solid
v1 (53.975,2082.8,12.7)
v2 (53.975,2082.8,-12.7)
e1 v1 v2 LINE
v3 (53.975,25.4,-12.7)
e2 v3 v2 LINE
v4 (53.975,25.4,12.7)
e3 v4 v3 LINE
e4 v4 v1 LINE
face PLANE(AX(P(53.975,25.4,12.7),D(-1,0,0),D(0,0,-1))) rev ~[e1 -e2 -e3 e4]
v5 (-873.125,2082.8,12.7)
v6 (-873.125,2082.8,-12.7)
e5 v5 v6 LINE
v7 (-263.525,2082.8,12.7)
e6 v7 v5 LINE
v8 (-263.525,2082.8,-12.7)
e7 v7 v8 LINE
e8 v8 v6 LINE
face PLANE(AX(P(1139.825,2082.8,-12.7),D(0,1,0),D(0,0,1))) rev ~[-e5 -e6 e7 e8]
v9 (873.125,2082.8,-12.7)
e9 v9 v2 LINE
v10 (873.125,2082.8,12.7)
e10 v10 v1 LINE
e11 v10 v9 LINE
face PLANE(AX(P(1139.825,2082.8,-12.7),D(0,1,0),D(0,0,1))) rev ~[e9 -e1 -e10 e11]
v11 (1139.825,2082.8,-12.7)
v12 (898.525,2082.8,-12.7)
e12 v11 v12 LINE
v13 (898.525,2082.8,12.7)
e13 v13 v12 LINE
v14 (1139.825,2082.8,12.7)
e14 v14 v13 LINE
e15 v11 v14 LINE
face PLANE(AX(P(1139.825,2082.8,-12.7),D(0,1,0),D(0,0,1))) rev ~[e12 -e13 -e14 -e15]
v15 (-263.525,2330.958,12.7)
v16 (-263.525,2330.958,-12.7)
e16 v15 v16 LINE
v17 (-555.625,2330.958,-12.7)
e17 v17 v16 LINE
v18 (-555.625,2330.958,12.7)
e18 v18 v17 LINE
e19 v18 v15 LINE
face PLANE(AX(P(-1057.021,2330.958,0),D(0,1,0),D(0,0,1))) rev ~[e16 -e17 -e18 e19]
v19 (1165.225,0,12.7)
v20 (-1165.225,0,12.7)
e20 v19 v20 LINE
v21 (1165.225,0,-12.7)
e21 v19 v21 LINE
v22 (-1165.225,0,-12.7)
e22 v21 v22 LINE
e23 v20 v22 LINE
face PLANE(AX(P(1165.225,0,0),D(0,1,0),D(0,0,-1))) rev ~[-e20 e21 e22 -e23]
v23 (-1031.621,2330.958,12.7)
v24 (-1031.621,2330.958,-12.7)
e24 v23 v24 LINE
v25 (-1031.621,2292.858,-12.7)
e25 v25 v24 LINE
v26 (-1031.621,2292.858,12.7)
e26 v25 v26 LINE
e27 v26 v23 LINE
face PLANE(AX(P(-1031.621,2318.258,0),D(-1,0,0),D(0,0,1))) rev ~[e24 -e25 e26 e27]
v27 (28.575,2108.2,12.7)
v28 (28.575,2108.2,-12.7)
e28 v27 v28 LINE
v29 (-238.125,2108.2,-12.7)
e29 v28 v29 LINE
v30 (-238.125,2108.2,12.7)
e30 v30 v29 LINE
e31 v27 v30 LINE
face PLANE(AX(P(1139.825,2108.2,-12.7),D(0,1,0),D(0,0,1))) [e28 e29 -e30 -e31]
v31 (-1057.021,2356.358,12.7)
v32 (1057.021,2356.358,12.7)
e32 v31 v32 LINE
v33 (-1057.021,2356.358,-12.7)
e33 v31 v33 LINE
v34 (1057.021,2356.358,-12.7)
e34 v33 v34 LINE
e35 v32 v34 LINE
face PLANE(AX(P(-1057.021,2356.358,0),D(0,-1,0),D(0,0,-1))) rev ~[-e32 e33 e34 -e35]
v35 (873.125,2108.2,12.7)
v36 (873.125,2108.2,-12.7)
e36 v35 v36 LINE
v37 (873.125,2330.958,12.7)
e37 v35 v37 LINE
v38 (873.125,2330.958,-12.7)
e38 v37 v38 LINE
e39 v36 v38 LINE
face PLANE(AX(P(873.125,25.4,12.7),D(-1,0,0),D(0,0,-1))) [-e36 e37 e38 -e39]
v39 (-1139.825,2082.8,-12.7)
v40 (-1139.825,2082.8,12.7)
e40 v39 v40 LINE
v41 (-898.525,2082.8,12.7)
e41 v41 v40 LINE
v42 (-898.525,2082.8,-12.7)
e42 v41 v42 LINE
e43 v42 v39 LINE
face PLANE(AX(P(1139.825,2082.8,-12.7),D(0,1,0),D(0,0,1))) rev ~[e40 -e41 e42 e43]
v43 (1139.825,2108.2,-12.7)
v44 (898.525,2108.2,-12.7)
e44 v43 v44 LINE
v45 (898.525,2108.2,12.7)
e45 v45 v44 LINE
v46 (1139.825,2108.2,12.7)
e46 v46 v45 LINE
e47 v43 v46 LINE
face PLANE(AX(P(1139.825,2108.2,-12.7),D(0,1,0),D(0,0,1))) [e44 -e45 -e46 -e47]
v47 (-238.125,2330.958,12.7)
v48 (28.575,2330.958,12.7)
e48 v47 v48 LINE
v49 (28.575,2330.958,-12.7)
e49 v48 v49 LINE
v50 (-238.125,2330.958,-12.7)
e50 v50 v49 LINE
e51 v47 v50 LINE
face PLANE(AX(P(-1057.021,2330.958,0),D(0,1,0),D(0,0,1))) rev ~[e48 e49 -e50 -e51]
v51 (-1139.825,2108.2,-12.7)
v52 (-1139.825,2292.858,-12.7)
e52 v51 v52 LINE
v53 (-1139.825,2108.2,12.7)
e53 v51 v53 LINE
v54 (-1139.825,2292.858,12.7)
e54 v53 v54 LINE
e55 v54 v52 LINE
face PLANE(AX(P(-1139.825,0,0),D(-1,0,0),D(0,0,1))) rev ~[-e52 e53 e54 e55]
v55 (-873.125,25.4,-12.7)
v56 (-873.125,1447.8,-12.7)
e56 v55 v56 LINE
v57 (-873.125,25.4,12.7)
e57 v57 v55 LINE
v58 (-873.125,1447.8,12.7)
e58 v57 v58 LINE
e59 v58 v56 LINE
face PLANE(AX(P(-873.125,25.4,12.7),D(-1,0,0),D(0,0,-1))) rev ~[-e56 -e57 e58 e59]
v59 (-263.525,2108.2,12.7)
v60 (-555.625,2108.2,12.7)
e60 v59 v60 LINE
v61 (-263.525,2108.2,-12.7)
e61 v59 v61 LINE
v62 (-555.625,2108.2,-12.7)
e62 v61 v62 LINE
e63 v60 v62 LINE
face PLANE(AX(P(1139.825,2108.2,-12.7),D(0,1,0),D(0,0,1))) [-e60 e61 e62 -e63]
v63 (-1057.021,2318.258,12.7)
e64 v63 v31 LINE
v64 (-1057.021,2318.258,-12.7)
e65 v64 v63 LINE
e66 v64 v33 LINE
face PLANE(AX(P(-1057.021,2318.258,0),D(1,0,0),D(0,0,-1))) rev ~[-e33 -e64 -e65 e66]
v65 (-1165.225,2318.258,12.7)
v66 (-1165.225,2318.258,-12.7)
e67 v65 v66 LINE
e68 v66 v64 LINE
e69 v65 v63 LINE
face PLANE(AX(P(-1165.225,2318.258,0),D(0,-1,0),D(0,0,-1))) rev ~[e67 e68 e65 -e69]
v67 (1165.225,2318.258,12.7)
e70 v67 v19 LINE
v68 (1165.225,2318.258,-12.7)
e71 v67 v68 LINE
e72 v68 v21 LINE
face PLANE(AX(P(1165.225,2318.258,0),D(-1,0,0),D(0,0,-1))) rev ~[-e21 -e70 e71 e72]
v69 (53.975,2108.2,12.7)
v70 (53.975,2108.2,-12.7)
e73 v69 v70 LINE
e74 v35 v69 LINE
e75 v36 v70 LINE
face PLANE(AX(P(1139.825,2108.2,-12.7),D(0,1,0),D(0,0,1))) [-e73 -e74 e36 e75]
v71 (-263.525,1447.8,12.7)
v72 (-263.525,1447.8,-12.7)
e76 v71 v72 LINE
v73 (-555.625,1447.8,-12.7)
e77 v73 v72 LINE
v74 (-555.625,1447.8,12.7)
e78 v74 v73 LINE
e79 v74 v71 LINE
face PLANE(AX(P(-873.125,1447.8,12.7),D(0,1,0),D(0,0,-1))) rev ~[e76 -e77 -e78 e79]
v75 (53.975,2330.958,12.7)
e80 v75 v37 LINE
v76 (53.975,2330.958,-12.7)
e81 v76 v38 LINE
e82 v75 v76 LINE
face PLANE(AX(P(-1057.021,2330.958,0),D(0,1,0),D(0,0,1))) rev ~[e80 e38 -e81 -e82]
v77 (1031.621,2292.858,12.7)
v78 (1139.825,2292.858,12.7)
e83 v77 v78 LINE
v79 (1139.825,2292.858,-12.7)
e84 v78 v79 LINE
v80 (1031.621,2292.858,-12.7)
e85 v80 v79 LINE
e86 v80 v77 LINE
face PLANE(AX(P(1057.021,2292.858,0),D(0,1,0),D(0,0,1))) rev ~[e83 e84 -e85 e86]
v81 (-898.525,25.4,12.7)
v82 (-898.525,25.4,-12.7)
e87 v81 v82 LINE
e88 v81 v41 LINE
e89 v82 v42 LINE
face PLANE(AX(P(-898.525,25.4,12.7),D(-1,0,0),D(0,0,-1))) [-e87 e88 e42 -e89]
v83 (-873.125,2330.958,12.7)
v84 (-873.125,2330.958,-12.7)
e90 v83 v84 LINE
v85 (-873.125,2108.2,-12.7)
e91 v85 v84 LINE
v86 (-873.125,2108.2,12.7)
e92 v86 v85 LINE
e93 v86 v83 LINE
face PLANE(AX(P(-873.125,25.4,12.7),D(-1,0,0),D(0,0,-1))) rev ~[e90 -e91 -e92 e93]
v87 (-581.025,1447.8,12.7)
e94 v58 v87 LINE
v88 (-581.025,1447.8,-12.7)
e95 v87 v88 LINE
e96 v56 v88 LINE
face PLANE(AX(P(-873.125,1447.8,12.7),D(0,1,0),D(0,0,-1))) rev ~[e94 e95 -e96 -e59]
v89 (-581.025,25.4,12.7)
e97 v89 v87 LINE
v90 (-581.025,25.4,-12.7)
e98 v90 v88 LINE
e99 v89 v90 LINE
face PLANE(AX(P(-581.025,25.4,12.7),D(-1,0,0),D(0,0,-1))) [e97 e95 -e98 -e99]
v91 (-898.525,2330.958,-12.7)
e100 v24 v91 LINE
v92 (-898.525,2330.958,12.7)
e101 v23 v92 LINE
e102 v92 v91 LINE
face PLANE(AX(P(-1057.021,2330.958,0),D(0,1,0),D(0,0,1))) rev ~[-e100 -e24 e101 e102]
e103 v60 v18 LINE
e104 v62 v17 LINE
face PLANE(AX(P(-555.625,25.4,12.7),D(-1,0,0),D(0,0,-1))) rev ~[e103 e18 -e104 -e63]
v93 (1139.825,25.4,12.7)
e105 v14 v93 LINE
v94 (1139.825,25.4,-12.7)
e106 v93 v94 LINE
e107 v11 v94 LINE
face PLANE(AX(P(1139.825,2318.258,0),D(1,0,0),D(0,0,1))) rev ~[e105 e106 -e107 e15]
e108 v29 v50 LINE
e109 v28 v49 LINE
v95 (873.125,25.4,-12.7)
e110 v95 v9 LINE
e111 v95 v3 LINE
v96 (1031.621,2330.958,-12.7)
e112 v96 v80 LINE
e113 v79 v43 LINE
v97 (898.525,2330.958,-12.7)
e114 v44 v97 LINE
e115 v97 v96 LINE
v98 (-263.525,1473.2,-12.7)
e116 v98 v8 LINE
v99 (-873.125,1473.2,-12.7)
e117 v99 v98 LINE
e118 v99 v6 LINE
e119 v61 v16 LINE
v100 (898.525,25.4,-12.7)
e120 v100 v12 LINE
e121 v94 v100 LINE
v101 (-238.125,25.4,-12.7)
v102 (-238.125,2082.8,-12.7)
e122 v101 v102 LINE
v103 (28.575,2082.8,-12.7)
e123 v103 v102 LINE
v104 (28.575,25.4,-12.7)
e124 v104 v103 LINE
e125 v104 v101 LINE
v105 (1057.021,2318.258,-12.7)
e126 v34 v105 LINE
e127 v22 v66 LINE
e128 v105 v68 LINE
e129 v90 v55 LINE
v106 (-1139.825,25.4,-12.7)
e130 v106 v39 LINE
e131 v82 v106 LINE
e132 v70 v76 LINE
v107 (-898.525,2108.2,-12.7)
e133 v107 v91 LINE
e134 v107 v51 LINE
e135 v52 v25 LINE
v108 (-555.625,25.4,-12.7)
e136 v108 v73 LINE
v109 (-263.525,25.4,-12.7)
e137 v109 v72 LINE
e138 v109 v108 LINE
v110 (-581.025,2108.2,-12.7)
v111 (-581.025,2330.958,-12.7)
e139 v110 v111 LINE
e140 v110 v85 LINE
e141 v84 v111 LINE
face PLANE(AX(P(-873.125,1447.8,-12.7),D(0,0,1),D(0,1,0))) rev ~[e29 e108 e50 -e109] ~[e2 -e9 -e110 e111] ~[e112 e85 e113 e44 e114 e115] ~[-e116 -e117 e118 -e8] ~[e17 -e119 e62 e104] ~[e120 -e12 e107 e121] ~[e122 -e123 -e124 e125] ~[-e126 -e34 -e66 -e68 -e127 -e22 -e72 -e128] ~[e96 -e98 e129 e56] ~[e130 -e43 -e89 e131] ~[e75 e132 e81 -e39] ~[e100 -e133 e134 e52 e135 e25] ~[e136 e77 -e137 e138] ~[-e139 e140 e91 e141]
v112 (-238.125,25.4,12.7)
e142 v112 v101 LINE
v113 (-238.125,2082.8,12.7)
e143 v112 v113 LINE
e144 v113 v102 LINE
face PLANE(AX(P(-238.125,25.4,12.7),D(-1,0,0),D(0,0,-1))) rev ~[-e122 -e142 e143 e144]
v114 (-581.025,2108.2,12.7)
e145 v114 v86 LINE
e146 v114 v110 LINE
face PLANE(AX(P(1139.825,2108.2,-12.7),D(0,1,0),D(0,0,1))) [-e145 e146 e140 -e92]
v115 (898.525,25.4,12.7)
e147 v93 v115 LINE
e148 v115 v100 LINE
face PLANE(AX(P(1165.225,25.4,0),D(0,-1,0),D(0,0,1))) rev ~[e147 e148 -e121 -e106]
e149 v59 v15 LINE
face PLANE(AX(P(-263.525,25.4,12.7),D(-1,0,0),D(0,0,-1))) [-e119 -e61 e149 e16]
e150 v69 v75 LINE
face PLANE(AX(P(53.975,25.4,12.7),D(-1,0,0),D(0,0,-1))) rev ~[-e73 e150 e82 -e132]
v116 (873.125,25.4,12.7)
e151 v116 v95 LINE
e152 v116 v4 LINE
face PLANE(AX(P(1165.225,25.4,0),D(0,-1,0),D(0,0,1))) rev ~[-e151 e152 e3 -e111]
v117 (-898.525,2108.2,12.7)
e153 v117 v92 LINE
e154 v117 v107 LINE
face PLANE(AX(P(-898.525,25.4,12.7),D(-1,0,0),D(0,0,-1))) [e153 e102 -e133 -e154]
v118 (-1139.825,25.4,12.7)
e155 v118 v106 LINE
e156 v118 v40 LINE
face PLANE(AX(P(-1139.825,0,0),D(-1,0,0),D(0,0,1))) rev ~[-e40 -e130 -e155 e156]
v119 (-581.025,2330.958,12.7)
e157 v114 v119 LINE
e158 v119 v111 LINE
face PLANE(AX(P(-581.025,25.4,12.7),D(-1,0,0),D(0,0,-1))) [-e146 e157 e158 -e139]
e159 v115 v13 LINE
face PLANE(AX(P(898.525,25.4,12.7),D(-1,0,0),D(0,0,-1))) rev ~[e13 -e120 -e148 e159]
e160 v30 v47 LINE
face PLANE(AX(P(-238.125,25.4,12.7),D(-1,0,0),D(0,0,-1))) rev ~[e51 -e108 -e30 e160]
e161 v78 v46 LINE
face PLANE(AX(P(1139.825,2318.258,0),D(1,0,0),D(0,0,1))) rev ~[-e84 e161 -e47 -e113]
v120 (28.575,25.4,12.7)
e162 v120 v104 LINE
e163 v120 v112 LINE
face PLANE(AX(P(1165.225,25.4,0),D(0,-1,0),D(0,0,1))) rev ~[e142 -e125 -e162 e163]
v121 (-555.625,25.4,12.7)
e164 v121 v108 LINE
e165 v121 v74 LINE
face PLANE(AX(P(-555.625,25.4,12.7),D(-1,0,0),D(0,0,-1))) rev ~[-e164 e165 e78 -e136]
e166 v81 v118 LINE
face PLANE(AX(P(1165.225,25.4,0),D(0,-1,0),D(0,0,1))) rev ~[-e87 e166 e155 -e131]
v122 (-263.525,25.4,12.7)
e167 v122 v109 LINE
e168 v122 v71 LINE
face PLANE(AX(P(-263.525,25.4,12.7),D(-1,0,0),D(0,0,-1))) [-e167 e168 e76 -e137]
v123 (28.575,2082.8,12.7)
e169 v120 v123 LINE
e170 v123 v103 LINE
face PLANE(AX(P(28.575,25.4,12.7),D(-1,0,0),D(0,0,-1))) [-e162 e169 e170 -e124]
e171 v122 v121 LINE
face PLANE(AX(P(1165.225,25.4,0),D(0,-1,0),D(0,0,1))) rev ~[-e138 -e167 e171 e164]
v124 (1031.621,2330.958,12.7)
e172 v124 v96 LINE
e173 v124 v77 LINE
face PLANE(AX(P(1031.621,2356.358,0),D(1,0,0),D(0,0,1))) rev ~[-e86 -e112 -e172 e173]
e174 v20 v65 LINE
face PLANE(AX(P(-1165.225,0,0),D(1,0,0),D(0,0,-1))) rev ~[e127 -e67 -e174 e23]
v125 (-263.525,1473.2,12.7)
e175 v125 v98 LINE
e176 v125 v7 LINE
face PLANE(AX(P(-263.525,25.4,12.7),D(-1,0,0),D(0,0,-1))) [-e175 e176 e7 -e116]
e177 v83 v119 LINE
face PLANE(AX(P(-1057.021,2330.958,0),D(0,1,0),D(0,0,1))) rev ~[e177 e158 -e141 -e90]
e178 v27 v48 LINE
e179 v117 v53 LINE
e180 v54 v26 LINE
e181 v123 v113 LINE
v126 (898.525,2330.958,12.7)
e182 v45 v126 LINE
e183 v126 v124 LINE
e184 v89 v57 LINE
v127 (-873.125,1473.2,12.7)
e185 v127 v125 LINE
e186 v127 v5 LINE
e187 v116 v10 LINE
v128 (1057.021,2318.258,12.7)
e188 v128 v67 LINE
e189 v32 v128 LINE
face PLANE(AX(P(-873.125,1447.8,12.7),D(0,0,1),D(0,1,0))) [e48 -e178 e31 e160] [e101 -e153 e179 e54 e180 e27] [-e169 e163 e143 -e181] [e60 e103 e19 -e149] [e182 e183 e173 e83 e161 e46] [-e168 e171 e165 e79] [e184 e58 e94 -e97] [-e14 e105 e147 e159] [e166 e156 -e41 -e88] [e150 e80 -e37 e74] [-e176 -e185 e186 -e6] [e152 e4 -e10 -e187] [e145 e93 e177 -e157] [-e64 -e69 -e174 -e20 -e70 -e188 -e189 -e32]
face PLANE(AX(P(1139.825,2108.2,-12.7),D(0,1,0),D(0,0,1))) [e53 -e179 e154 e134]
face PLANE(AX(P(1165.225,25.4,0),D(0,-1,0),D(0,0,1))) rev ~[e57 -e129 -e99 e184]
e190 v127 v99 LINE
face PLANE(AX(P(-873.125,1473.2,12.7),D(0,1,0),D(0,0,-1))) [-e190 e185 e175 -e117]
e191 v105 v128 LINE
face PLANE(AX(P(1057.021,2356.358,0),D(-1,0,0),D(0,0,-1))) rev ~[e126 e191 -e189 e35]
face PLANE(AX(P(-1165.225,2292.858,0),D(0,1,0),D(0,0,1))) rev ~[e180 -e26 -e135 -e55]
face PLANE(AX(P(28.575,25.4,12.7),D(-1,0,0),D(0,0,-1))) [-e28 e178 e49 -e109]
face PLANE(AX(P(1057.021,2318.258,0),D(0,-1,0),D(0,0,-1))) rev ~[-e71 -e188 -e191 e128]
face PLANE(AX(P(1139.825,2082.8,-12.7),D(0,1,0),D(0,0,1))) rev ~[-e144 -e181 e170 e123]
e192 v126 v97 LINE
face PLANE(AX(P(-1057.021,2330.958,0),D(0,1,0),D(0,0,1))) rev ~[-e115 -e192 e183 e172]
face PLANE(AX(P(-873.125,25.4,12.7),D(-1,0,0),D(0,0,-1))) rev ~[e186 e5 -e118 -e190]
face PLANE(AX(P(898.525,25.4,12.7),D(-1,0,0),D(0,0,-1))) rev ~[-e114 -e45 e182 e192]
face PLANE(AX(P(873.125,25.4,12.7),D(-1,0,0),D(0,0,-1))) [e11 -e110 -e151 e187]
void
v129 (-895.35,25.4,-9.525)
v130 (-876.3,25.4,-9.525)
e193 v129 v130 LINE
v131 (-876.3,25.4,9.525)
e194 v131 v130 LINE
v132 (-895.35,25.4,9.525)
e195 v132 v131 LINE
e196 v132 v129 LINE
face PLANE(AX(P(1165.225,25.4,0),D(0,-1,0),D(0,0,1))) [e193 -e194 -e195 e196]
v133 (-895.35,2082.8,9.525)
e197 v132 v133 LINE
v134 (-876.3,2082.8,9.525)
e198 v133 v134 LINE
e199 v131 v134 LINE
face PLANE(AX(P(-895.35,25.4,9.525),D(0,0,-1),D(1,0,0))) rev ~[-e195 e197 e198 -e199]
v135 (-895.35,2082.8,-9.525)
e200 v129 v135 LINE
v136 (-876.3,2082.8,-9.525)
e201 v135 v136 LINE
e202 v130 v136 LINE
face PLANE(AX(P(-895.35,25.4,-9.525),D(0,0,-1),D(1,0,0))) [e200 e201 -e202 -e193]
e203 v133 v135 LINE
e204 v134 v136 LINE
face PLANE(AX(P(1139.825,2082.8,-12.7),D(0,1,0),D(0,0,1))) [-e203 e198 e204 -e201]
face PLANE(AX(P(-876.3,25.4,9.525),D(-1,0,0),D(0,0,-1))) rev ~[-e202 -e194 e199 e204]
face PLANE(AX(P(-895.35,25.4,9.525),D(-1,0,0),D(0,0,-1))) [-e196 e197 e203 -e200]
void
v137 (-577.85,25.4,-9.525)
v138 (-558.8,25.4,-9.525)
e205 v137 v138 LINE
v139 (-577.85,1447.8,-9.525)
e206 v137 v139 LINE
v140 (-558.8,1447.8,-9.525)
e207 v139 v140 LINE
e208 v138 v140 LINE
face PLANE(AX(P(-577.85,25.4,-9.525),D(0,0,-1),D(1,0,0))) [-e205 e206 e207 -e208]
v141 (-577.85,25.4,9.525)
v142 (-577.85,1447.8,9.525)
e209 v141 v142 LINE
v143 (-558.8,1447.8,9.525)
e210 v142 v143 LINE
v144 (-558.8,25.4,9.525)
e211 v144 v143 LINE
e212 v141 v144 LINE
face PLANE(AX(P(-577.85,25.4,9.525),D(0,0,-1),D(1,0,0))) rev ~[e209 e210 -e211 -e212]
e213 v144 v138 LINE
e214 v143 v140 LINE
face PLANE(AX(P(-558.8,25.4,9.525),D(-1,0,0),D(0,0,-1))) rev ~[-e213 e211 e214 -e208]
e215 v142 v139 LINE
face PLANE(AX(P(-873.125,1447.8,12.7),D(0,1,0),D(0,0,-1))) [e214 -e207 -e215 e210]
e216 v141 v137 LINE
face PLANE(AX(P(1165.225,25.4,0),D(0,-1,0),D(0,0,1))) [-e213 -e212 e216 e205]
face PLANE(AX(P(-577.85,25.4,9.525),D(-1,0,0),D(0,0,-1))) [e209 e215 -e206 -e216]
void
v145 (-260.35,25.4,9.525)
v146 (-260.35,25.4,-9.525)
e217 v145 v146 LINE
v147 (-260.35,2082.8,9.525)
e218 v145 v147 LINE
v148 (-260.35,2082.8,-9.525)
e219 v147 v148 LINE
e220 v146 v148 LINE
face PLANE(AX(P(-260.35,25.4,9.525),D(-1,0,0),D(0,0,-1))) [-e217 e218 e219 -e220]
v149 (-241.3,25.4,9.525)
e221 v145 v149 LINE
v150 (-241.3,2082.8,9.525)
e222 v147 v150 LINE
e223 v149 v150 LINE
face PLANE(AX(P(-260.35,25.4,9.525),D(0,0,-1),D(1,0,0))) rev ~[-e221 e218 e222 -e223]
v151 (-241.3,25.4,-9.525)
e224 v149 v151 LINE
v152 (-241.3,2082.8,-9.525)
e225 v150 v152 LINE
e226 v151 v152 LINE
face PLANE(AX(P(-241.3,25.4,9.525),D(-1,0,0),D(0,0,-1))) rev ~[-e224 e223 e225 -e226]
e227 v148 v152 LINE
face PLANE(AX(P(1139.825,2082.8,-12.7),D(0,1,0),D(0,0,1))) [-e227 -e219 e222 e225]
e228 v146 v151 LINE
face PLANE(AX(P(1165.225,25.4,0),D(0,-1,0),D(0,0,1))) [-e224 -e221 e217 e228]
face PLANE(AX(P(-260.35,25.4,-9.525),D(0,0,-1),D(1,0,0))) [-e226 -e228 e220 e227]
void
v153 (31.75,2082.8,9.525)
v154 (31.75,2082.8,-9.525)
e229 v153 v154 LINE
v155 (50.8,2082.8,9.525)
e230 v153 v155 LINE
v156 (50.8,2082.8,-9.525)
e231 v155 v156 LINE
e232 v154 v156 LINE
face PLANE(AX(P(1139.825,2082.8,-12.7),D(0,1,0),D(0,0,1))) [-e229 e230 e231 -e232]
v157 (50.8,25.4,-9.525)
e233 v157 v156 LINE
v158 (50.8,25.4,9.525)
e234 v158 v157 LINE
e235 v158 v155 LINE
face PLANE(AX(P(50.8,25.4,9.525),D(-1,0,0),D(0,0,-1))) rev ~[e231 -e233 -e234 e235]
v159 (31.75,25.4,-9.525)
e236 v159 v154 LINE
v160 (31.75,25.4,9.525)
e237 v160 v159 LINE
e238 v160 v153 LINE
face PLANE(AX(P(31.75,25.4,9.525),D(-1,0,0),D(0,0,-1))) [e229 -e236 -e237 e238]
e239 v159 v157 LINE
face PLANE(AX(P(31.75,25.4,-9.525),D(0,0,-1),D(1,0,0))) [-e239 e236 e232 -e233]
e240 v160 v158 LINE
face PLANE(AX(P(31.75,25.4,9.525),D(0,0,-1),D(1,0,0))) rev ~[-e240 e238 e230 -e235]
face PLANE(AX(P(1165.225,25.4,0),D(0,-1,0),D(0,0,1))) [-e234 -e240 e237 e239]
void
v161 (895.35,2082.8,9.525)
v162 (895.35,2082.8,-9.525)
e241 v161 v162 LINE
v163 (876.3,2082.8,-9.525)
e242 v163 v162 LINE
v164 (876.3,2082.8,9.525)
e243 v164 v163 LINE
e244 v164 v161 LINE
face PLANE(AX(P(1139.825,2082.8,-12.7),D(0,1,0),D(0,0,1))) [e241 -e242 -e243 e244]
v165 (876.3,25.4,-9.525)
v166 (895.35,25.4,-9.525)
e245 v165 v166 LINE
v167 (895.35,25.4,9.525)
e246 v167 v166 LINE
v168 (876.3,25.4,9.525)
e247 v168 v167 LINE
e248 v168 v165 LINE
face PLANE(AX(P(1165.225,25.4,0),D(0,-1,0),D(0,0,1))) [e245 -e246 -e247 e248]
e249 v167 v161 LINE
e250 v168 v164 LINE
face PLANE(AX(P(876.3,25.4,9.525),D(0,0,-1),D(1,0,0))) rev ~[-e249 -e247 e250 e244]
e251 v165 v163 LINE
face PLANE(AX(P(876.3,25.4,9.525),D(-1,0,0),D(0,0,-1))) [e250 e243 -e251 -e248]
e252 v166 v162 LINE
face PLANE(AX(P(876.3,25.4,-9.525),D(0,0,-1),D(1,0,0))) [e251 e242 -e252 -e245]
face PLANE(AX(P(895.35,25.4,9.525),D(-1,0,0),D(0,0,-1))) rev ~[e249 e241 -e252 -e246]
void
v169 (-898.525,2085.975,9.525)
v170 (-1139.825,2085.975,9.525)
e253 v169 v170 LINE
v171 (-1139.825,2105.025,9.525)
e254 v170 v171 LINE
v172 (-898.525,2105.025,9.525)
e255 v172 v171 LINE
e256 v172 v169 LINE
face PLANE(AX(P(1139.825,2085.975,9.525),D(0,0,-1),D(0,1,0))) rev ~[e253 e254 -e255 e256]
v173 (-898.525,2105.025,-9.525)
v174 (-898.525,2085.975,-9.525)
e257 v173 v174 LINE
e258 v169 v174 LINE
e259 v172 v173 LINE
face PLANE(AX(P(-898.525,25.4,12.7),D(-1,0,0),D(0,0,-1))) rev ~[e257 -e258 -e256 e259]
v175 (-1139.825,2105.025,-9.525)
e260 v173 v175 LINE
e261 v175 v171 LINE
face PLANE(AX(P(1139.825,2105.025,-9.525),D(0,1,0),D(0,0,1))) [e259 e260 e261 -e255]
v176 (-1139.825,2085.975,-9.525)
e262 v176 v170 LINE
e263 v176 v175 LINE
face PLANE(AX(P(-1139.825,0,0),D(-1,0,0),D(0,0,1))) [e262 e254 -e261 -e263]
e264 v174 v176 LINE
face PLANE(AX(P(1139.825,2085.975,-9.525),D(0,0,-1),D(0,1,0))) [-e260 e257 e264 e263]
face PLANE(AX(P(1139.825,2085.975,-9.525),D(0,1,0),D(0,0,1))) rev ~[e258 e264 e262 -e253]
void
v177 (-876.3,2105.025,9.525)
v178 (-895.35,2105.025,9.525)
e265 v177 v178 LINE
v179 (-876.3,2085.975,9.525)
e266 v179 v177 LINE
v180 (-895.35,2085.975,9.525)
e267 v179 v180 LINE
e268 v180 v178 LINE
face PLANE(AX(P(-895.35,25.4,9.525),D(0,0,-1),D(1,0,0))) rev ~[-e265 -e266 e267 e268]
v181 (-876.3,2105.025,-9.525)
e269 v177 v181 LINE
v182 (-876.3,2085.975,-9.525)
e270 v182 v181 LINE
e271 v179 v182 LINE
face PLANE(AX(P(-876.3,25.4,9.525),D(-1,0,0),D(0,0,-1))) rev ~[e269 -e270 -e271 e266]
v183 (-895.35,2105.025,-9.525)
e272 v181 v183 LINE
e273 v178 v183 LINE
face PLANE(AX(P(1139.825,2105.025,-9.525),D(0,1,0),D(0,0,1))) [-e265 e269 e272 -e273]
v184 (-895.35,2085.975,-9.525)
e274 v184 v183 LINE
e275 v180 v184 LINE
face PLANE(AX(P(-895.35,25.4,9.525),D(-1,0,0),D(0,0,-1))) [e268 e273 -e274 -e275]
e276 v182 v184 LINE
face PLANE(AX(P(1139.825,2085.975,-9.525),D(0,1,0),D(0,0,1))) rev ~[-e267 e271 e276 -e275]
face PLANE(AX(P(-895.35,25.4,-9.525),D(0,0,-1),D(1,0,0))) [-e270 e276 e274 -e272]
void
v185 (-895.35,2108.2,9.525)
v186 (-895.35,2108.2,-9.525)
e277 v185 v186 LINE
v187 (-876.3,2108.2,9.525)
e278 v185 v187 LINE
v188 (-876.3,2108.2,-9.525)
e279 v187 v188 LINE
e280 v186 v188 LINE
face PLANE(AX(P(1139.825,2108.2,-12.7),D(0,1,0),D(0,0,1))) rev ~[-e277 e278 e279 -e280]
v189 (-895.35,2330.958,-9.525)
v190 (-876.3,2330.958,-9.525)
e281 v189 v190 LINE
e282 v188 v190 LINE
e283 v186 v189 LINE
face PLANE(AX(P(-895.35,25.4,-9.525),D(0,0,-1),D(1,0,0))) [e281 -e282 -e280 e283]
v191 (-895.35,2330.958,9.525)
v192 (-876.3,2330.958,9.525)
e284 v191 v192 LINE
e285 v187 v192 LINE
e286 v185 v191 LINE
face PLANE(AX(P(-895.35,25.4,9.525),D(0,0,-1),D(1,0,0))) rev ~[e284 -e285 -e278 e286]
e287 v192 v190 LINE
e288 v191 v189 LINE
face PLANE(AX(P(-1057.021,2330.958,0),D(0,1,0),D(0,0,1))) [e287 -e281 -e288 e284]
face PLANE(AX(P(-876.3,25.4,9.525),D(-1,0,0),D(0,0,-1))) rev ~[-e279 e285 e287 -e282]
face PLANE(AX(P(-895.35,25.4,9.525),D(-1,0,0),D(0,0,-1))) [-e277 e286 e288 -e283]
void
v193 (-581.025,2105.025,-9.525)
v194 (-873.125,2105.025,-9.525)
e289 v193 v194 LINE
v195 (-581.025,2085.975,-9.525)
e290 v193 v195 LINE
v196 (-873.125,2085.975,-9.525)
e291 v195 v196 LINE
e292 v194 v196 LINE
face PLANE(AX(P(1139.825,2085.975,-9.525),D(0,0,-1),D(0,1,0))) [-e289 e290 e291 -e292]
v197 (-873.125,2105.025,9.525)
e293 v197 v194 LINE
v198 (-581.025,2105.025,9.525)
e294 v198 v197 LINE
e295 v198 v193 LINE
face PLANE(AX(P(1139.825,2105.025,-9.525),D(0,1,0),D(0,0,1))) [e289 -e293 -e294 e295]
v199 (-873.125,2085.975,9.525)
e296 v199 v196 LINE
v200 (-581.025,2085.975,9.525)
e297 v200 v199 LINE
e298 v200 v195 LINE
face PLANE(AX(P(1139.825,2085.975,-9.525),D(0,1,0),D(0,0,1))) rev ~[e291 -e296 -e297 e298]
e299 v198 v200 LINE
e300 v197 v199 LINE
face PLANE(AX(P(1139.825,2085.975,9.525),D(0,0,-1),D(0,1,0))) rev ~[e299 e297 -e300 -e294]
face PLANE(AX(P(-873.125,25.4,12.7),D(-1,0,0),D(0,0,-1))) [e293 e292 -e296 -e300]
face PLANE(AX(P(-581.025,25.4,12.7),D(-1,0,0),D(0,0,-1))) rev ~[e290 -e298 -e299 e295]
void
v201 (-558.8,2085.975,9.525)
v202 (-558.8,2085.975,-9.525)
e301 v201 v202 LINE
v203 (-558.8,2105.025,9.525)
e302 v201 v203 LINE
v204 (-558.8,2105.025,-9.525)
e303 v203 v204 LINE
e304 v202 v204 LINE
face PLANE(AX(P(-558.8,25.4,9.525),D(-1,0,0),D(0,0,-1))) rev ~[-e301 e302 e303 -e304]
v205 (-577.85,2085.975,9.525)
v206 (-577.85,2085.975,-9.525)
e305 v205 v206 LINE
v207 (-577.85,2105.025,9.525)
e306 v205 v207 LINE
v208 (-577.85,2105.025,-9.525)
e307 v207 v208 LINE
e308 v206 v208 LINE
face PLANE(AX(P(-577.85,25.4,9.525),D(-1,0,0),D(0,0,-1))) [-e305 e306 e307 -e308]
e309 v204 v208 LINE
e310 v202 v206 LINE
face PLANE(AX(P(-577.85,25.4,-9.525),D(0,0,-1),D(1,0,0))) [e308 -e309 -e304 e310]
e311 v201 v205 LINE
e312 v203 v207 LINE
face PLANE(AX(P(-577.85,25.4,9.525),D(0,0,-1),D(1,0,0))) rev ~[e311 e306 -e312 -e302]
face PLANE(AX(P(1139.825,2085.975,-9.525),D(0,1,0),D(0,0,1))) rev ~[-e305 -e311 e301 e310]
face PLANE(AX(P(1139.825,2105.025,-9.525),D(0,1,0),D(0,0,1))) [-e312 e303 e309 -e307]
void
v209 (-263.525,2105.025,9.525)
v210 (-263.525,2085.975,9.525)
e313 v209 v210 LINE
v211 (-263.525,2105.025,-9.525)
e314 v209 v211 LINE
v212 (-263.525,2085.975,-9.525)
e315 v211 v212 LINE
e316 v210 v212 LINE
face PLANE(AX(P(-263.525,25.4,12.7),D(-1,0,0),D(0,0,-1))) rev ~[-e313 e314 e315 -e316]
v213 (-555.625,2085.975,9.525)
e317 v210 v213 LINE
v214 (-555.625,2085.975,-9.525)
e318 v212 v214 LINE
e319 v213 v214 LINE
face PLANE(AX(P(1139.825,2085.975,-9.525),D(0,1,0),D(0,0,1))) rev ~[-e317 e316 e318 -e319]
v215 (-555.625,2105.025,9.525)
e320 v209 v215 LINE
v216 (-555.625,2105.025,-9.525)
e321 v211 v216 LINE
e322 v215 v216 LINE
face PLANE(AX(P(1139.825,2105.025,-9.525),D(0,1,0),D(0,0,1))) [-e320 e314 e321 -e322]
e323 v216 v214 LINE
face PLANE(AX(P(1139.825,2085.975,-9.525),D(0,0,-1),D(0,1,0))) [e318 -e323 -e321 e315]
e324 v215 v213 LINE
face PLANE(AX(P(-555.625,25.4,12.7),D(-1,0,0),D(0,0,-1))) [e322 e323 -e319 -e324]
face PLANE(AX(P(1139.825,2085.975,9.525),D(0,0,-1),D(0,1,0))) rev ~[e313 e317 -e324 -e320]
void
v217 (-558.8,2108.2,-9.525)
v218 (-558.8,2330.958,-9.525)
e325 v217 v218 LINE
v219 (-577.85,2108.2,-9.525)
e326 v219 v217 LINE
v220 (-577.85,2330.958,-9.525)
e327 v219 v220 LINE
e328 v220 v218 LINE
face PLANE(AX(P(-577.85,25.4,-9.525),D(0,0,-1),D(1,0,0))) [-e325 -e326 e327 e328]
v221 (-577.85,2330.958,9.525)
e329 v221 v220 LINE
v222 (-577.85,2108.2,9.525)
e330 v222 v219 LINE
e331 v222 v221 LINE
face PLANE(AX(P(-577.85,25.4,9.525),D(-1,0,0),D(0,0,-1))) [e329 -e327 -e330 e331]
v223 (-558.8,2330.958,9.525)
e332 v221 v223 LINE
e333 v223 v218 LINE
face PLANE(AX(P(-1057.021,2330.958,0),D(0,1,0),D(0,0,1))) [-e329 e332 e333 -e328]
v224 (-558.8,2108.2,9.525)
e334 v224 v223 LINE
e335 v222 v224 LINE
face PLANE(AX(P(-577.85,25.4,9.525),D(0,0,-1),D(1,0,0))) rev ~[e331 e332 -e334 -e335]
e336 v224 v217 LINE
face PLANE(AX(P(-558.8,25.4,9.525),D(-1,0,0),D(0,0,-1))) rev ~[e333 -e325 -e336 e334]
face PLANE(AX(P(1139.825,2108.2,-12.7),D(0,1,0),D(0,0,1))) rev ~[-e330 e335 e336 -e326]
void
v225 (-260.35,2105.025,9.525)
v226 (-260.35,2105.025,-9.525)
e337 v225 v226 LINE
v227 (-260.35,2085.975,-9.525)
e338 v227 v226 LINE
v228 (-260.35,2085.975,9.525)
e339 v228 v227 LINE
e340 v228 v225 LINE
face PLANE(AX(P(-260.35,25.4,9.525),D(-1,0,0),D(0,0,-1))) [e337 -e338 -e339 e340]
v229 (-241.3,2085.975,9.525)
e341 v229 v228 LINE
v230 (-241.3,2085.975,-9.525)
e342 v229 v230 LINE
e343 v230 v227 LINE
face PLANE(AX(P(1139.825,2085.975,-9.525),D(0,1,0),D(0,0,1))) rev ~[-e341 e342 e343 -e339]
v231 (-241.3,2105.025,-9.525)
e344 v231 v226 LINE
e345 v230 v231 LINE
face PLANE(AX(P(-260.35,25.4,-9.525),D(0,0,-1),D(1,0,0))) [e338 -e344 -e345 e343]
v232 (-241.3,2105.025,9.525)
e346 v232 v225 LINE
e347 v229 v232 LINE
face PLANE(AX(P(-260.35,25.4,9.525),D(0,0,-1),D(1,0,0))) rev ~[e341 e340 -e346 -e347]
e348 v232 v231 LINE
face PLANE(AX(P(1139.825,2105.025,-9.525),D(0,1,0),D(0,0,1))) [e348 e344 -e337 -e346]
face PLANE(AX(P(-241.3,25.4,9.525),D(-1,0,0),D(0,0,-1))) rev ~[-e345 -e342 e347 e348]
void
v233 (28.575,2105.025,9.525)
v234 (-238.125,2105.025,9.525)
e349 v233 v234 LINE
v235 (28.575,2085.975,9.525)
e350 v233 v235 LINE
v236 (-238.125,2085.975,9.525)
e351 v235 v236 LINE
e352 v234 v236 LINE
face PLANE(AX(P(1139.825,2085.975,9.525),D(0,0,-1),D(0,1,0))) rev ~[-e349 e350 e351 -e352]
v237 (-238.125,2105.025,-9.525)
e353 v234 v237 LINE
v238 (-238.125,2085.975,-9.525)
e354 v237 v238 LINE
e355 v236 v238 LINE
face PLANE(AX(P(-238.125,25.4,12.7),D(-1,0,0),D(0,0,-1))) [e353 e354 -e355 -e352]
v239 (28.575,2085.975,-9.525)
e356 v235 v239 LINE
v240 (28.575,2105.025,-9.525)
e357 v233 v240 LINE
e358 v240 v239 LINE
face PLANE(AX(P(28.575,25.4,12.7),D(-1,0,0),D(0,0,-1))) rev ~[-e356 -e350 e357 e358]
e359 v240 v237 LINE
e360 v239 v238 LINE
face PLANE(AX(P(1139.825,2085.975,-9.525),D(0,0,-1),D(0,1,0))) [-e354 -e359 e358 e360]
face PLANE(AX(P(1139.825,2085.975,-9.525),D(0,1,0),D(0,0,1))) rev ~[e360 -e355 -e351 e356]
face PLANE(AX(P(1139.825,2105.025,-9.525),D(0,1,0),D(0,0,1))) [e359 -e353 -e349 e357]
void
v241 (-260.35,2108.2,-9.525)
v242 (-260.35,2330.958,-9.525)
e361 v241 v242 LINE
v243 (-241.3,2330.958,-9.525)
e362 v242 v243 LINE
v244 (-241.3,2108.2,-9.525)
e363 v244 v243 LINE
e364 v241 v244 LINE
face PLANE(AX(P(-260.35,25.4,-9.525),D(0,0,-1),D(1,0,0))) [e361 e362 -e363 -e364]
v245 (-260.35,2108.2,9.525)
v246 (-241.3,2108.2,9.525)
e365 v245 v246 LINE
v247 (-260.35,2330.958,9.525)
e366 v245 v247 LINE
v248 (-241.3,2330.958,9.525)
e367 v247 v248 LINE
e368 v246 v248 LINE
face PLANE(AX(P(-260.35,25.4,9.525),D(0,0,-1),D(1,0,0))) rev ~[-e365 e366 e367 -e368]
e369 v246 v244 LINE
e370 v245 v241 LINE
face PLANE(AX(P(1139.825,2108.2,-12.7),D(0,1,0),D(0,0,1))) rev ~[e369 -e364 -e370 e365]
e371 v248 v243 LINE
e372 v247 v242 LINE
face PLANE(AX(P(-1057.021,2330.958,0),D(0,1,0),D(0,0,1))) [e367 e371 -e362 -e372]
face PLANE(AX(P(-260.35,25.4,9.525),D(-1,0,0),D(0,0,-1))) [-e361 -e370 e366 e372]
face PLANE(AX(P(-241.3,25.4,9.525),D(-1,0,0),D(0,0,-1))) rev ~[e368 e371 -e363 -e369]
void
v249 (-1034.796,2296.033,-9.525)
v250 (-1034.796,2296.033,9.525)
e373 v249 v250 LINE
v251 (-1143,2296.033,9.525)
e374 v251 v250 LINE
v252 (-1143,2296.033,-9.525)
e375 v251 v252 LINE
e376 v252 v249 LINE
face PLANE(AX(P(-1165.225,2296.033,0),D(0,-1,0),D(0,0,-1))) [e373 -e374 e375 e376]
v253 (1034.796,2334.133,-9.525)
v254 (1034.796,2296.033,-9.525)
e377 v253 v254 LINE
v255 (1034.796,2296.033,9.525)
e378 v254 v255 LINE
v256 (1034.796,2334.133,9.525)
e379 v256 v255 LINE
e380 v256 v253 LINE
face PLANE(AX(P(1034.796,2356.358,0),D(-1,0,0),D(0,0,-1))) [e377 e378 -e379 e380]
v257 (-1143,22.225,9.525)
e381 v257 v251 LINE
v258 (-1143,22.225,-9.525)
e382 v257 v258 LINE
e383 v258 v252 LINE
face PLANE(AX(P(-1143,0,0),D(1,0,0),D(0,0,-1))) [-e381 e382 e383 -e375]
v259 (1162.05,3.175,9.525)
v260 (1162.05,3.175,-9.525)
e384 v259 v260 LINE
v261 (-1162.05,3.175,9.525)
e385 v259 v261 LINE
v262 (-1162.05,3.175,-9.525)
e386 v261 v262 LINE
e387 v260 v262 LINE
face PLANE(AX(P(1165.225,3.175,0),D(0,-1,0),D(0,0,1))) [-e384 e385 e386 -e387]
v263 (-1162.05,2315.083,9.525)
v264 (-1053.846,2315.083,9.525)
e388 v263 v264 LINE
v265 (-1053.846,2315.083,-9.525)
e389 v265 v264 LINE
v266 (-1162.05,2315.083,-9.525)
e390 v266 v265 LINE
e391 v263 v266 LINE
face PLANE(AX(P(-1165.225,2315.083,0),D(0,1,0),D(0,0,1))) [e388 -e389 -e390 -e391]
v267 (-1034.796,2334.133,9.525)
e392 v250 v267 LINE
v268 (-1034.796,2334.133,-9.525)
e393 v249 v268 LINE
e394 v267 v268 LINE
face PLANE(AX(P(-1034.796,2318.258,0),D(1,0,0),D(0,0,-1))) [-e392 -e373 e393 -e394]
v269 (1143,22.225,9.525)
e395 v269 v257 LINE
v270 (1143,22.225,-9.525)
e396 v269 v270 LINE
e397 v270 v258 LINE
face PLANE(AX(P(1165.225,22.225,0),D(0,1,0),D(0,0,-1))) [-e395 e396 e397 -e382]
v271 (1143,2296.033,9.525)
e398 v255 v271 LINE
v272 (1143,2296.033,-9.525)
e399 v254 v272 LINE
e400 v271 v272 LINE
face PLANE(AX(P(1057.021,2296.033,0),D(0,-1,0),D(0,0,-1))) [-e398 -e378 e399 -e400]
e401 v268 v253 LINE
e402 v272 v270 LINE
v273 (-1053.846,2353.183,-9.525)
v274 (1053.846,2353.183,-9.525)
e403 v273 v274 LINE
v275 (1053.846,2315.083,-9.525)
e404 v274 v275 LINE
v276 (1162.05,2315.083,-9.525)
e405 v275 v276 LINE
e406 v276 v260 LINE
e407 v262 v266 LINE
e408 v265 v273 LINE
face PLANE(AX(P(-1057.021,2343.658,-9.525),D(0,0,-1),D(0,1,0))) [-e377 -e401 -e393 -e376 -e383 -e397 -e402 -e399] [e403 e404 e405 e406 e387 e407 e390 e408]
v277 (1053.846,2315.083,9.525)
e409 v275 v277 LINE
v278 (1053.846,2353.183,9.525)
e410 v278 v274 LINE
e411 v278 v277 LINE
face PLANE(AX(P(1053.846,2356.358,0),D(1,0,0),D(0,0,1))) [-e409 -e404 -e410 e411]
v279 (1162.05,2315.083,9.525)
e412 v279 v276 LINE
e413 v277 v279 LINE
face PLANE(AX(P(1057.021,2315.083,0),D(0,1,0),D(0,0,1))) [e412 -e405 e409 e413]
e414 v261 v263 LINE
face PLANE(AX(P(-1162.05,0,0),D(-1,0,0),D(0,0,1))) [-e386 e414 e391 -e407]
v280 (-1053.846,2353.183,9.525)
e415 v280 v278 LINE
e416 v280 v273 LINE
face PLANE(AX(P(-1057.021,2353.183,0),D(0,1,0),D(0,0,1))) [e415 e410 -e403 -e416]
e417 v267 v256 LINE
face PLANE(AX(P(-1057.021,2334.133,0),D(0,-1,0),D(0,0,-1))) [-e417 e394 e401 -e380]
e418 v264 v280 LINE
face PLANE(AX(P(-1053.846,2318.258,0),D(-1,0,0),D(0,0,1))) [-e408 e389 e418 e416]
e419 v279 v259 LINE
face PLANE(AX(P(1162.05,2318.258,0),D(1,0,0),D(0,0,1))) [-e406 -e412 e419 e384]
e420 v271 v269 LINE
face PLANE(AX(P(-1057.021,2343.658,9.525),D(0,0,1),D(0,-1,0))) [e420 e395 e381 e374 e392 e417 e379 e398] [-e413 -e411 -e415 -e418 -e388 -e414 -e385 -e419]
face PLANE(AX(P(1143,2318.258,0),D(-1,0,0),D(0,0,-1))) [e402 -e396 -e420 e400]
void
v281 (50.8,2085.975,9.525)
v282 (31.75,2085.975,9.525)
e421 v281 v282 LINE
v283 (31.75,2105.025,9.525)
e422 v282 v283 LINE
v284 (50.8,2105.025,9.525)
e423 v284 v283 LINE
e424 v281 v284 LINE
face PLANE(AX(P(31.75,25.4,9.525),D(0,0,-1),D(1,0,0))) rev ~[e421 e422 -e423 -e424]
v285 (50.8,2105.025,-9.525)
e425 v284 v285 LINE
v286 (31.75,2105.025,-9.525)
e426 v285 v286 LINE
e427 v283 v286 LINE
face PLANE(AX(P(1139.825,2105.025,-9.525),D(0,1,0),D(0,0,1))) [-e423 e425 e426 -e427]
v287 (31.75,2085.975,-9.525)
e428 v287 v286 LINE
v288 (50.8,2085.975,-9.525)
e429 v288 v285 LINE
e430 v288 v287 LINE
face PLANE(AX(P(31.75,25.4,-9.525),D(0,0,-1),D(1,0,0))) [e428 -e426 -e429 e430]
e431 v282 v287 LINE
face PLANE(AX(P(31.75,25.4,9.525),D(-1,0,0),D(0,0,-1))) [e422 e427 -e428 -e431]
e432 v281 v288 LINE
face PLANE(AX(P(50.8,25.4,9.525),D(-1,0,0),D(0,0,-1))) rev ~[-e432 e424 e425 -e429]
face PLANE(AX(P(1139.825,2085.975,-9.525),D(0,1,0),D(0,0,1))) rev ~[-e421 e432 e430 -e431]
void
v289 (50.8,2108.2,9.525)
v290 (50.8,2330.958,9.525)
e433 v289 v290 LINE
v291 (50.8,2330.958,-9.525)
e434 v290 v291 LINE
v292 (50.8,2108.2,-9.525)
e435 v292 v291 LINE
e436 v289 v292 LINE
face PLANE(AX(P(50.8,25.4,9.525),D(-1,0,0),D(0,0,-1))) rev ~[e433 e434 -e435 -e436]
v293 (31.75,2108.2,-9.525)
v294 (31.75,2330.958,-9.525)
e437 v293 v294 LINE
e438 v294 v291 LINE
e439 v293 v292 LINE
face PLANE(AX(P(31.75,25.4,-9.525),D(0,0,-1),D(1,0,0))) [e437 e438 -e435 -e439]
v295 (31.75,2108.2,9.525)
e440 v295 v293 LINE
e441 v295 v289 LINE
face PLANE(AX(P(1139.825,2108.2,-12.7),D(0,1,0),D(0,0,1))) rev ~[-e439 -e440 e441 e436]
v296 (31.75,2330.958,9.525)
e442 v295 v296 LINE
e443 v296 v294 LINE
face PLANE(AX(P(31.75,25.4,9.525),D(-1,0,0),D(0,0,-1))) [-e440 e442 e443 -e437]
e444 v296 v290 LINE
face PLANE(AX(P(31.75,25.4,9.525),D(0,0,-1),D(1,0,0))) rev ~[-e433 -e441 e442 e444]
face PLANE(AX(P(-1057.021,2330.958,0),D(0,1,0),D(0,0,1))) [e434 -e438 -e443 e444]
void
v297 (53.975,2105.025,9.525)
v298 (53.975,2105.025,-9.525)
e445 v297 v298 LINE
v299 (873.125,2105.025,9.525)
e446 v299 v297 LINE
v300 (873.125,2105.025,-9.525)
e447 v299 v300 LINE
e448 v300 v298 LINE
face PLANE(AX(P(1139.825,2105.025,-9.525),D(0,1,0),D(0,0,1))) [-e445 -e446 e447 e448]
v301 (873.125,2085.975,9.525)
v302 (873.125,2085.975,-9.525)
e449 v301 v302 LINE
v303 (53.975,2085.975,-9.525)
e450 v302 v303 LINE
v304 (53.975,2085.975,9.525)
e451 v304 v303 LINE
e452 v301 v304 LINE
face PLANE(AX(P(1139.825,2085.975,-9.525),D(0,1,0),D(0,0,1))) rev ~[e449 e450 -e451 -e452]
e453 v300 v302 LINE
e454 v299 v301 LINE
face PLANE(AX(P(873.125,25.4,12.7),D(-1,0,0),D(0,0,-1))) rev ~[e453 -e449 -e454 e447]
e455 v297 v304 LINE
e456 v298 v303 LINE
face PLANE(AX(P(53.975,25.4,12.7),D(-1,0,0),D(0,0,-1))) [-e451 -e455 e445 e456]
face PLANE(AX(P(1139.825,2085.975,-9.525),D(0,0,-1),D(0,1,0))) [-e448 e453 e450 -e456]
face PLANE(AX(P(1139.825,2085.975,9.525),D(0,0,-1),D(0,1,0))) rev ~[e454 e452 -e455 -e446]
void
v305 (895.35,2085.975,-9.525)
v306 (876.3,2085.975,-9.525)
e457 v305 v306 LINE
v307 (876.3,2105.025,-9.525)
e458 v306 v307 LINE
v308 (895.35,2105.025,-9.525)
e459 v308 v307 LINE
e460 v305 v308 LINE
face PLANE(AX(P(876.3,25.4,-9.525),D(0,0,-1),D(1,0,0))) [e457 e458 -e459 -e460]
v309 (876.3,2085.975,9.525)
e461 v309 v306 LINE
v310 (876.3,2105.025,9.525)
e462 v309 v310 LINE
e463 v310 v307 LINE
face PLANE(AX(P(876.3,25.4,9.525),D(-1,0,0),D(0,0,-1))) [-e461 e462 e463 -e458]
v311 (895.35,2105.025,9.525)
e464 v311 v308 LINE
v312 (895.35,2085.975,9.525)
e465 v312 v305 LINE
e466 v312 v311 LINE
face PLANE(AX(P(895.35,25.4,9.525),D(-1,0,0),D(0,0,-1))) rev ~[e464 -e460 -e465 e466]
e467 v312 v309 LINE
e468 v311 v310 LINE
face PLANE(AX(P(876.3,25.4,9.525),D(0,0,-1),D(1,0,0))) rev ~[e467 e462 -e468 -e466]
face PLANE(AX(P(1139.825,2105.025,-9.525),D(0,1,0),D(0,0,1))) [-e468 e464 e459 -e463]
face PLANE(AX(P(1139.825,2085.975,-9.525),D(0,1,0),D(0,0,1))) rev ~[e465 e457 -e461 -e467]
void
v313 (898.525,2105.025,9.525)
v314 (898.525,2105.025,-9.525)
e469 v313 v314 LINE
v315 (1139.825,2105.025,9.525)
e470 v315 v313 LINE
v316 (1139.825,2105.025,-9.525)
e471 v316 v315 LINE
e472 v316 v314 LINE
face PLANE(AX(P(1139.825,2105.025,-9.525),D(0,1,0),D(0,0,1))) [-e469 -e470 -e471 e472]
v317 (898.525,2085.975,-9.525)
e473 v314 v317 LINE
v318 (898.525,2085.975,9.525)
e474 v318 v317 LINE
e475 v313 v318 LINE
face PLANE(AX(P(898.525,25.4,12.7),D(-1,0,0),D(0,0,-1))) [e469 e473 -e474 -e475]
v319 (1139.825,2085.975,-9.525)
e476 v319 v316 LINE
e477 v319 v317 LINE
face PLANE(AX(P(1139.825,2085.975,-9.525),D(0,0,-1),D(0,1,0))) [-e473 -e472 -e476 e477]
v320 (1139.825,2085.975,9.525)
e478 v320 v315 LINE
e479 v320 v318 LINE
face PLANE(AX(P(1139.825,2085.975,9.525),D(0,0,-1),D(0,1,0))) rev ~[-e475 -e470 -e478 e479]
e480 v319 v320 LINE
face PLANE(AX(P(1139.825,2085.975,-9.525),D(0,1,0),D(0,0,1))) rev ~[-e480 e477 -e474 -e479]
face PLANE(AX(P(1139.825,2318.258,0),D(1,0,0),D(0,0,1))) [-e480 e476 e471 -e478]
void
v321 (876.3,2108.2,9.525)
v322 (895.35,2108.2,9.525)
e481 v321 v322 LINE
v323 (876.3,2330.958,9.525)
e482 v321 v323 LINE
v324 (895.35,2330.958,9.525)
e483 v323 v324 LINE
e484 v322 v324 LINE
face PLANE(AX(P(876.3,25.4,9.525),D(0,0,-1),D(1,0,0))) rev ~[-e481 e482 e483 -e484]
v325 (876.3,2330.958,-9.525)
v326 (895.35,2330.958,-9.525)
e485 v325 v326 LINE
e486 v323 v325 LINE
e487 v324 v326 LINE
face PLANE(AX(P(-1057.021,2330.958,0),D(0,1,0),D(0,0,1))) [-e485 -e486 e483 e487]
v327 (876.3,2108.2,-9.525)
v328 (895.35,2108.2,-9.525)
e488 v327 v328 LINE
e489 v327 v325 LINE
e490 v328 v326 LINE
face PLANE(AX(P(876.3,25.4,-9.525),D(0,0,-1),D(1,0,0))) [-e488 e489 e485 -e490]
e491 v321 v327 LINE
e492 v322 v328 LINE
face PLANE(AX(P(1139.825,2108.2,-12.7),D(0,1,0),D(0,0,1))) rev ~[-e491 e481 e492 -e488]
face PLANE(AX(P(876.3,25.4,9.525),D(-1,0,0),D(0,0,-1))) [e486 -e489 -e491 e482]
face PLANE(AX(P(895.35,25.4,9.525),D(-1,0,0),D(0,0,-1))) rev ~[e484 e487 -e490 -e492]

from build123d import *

# Parameters (mm, degrees)
SKETCH2_W             = 25.4
SKETCH2_H             = 25.4
SKETCH2_W_2           = 19.05
SKETCH2_H_2           = 19.05
SKETCH3_W             = 25.4
SKETCH3_H             = 25.4
SKETCH3_W_2           = 19.05
SKETCH3_H_2           = 19.05
BOSS_EXTRUDE1_DEPTH   = 2305.558
BOSS_EXTRUDE1_2_DEPTH = 2305.558
BOSS_EXTRUDE1_3_DEPTH = 2305.558
BOSS_EXTRUDE1_4_DEPTH = 2305.558
BOSS_EXTRUDE1_5_DEPTH = 2305.558
BOSS_EXTRUDE2_START   = -108.204
SKETCH5_W             = 25.4
SKETCH5_H             = 25.4
SKETCH5_W_2           = 19.05
SKETCH5_H_2           = 19.05
BOSS_EXTRUDE2_DEPTH   = 2279.65
CUT_EXTRUDE1_REACH    = 27.4
SKETCH6_W             = 609.6
SKETCH6_H             = 635
SKETCH7_W             = 25.4
SKETCH7_H             = 25.4
BOSS_EXTRUDE3_DEPTH   = 609.6


with BuildPart() as part:
    # Sweep1: sweep along a path in Sketch1
    with BuildLine(Plane.XY) as sweep1_path:
        Line((-1057.021, 2356.358), (1057.021, 2356.358))
        Line((1057.021, 2356.358), (1057.021, 2318.258))
        Line((1057.021, 2318.258), (1165.225, 2318.258))
        Line((1165.225, 2318.258), (1165.225, 0))
        Line((1165.225, 0), (-1165.225, 0))
        Line((-1165.225, 0), (-1165.225, 2318.258))
        Line((-1165.225, 2318.258), (-1057.021, 2318.258))
        Line((-1057.021, 2318.258), (-1057.021, 2356.358))
    # Sketch2 → Sweep1 (sweep)
    with BuildSketch(Plane(origin=(0, 0, 0), x_dir=(0, 0, -1), z_dir=(1, 0, 0))):
        with Locations((0, 12.7)):
            Rectangle(SKETCH2_W, SKETCH2_H)
        with Locations((0, 12.7)):
            Rectangle(SKETCH2_W_2, SKETCH2_H_2, mode=Mode.SUBTRACT)
    sweep(path=sweep1_path.line, transition=Transition.RIGHT)



with BuildPart() as body_2:
    # Sketch3 → Boss-Extrude1 (new body)
    with BuildSketch(Plane(origin=(0, 25.4, 0), x_dir=(1, 0, 0), z_dir=(0, 1, 0))):
        with Locations((885.825, 0)):
            Rectangle(SKETCH3_W, SKETCH3_H)
        with Locations((885.825, 0)):
            Rectangle(SKETCH3_W_2, SKETCH3_H_2, mode=Mode.SUBTRACT)
    extrude(amount=BOSS_EXTRUDE1_DEPTH)


with BuildPart() as body_3:
    # Sketch3 → Boss-Extrude1 2 (new body)
    with BuildSketch(Plane(origin=(0, 25.4, 0), x_dir=(1, 0, 0), z_dir=(0, 1, 0))):
        with Locations((-568.325, 0)):
            Rectangle(SKETCH3_W, SKETCH3_H)
        with Locations((-568.325, 0)):
            Rectangle(SKETCH3_W_2, SKETCH3_H_2, mode=Mode.SUBTRACT)
    extrude(amount=BOSS_EXTRUDE1_2_DEPTH)


with BuildPart() as body_4:
    # Sketch3 → Boss-Extrude1 3 (new body)
    with BuildSketch(Plane(origin=(0, 25.4, 0), x_dir=(1, 0, 0), z_dir=(0, 1, 0))):
        with Locations((-885.825, 0)):
            Rectangle(SKETCH3_W, SKETCH3_H)
        with Locations((-885.825, 0)):
            Rectangle(SKETCH3_W_2, SKETCH3_H_2, mode=Mode.SUBTRACT)
    extrude(amount=BOSS_EXTRUDE1_3_DEPTH)


with BuildPart() as body_5:
    # Sketch3 → Boss-Extrude1 4 (new body)
    with BuildSketch(Plane(origin=(0, 25.4, 0), x_dir=(1, 0, 0), z_dir=(0, 1, 0))):
        with Locations((41.275, 0)):
            Rectangle(SKETCH3_W, SKETCH3_H)
        with Locations((41.275, 0)):
            Rectangle(SKETCH3_W_2, SKETCH3_H_2, mode=Mode.SUBTRACT)
    extrude(amount=BOSS_EXTRUDE1_4_DEPTH)


with BuildPart() as body_6:
    # Sketch3 → Boss-Extrude1 5 (new body)
    with BuildSketch(Plane(origin=(0, 25.4, 0), x_dir=(1, 0, 0), z_dir=(0, 1, 0))):
        with Locations((-250.825, 0)):
            Rectangle(SKETCH3_W, SKETCH3_H)
        with Locations((-250.825, 0)):
            Rectangle(SKETCH3_W_2, SKETCH3_H_2, mode=Mode.SUBTRACT)
    extrude(amount=BOSS_EXTRUDE1_5_DEPTH)


with BuildPart() as part_1:
    add(part.part)

    add(body_2.part)  # Boss-Extrude2 merges body 2

    add(body_3.part)  # Boss-Extrude2 merges body 3

    add(body_4.part)  # Boss-Extrude2 merges body 4

    add(body_5.part)  # Boss-Extrude2 merges body 5

    add(body_6.part)  # Boss-Extrude2 merges body 6
    # Sketch5 → Boss-Extrude2 (add)
    with BuildSketch(Plane.ZY.offset(-1031.621).offset(BOSS_EXTRUDE2_START)):
        with Locations((0, 2095.5)):
            Rectangle(SKETCH5_W, SKETCH5_H)
        with Locations((0, 2095.5)):
            Rectangle(SKETCH5_W_2, SKETCH5_H_2, mode=Mode.SUBTRACT)
    extrude(amount=BOSS_EXTRUDE2_DEPTH)

    # Sketch6 → Cut-Extrude1 (cut, up to next)
    with BuildSketch(Plane.XY.offset(12.7), mode=Mode.PRIVATE) as cut_extrude1_sk1:
        with Locations((-568.325, 1765.3)):
            Rectangle(SKETCH6_W, SKETCH6_H)
    cut_extrude1_tool1 = extrude(cut_extrude1_sk1.sketch, amount=-CUT_EXTRUDE1_REACH, mode=Mode.PRIVATE) & part_1.part
    add(cut_extrude1_tool1.solids().sort_by_distance((-568.325, 1765.3, 12.7))[0], mode=Mode.SUBTRACT)

    # Sketch7 → Boss-Extrude3 (add)
    with BuildSketch(Plane(origin=(-873.125, 0, 0), x_dir=(0, 0, -1), z_dir=(1, 0, 0))):
        with Locations((0, 1460.5)):
            Rectangle(SKETCH7_W, SKETCH7_H)
    extrude(amount=BOSS_EXTRUDE3_DEPTH)


solid = part_1.part
